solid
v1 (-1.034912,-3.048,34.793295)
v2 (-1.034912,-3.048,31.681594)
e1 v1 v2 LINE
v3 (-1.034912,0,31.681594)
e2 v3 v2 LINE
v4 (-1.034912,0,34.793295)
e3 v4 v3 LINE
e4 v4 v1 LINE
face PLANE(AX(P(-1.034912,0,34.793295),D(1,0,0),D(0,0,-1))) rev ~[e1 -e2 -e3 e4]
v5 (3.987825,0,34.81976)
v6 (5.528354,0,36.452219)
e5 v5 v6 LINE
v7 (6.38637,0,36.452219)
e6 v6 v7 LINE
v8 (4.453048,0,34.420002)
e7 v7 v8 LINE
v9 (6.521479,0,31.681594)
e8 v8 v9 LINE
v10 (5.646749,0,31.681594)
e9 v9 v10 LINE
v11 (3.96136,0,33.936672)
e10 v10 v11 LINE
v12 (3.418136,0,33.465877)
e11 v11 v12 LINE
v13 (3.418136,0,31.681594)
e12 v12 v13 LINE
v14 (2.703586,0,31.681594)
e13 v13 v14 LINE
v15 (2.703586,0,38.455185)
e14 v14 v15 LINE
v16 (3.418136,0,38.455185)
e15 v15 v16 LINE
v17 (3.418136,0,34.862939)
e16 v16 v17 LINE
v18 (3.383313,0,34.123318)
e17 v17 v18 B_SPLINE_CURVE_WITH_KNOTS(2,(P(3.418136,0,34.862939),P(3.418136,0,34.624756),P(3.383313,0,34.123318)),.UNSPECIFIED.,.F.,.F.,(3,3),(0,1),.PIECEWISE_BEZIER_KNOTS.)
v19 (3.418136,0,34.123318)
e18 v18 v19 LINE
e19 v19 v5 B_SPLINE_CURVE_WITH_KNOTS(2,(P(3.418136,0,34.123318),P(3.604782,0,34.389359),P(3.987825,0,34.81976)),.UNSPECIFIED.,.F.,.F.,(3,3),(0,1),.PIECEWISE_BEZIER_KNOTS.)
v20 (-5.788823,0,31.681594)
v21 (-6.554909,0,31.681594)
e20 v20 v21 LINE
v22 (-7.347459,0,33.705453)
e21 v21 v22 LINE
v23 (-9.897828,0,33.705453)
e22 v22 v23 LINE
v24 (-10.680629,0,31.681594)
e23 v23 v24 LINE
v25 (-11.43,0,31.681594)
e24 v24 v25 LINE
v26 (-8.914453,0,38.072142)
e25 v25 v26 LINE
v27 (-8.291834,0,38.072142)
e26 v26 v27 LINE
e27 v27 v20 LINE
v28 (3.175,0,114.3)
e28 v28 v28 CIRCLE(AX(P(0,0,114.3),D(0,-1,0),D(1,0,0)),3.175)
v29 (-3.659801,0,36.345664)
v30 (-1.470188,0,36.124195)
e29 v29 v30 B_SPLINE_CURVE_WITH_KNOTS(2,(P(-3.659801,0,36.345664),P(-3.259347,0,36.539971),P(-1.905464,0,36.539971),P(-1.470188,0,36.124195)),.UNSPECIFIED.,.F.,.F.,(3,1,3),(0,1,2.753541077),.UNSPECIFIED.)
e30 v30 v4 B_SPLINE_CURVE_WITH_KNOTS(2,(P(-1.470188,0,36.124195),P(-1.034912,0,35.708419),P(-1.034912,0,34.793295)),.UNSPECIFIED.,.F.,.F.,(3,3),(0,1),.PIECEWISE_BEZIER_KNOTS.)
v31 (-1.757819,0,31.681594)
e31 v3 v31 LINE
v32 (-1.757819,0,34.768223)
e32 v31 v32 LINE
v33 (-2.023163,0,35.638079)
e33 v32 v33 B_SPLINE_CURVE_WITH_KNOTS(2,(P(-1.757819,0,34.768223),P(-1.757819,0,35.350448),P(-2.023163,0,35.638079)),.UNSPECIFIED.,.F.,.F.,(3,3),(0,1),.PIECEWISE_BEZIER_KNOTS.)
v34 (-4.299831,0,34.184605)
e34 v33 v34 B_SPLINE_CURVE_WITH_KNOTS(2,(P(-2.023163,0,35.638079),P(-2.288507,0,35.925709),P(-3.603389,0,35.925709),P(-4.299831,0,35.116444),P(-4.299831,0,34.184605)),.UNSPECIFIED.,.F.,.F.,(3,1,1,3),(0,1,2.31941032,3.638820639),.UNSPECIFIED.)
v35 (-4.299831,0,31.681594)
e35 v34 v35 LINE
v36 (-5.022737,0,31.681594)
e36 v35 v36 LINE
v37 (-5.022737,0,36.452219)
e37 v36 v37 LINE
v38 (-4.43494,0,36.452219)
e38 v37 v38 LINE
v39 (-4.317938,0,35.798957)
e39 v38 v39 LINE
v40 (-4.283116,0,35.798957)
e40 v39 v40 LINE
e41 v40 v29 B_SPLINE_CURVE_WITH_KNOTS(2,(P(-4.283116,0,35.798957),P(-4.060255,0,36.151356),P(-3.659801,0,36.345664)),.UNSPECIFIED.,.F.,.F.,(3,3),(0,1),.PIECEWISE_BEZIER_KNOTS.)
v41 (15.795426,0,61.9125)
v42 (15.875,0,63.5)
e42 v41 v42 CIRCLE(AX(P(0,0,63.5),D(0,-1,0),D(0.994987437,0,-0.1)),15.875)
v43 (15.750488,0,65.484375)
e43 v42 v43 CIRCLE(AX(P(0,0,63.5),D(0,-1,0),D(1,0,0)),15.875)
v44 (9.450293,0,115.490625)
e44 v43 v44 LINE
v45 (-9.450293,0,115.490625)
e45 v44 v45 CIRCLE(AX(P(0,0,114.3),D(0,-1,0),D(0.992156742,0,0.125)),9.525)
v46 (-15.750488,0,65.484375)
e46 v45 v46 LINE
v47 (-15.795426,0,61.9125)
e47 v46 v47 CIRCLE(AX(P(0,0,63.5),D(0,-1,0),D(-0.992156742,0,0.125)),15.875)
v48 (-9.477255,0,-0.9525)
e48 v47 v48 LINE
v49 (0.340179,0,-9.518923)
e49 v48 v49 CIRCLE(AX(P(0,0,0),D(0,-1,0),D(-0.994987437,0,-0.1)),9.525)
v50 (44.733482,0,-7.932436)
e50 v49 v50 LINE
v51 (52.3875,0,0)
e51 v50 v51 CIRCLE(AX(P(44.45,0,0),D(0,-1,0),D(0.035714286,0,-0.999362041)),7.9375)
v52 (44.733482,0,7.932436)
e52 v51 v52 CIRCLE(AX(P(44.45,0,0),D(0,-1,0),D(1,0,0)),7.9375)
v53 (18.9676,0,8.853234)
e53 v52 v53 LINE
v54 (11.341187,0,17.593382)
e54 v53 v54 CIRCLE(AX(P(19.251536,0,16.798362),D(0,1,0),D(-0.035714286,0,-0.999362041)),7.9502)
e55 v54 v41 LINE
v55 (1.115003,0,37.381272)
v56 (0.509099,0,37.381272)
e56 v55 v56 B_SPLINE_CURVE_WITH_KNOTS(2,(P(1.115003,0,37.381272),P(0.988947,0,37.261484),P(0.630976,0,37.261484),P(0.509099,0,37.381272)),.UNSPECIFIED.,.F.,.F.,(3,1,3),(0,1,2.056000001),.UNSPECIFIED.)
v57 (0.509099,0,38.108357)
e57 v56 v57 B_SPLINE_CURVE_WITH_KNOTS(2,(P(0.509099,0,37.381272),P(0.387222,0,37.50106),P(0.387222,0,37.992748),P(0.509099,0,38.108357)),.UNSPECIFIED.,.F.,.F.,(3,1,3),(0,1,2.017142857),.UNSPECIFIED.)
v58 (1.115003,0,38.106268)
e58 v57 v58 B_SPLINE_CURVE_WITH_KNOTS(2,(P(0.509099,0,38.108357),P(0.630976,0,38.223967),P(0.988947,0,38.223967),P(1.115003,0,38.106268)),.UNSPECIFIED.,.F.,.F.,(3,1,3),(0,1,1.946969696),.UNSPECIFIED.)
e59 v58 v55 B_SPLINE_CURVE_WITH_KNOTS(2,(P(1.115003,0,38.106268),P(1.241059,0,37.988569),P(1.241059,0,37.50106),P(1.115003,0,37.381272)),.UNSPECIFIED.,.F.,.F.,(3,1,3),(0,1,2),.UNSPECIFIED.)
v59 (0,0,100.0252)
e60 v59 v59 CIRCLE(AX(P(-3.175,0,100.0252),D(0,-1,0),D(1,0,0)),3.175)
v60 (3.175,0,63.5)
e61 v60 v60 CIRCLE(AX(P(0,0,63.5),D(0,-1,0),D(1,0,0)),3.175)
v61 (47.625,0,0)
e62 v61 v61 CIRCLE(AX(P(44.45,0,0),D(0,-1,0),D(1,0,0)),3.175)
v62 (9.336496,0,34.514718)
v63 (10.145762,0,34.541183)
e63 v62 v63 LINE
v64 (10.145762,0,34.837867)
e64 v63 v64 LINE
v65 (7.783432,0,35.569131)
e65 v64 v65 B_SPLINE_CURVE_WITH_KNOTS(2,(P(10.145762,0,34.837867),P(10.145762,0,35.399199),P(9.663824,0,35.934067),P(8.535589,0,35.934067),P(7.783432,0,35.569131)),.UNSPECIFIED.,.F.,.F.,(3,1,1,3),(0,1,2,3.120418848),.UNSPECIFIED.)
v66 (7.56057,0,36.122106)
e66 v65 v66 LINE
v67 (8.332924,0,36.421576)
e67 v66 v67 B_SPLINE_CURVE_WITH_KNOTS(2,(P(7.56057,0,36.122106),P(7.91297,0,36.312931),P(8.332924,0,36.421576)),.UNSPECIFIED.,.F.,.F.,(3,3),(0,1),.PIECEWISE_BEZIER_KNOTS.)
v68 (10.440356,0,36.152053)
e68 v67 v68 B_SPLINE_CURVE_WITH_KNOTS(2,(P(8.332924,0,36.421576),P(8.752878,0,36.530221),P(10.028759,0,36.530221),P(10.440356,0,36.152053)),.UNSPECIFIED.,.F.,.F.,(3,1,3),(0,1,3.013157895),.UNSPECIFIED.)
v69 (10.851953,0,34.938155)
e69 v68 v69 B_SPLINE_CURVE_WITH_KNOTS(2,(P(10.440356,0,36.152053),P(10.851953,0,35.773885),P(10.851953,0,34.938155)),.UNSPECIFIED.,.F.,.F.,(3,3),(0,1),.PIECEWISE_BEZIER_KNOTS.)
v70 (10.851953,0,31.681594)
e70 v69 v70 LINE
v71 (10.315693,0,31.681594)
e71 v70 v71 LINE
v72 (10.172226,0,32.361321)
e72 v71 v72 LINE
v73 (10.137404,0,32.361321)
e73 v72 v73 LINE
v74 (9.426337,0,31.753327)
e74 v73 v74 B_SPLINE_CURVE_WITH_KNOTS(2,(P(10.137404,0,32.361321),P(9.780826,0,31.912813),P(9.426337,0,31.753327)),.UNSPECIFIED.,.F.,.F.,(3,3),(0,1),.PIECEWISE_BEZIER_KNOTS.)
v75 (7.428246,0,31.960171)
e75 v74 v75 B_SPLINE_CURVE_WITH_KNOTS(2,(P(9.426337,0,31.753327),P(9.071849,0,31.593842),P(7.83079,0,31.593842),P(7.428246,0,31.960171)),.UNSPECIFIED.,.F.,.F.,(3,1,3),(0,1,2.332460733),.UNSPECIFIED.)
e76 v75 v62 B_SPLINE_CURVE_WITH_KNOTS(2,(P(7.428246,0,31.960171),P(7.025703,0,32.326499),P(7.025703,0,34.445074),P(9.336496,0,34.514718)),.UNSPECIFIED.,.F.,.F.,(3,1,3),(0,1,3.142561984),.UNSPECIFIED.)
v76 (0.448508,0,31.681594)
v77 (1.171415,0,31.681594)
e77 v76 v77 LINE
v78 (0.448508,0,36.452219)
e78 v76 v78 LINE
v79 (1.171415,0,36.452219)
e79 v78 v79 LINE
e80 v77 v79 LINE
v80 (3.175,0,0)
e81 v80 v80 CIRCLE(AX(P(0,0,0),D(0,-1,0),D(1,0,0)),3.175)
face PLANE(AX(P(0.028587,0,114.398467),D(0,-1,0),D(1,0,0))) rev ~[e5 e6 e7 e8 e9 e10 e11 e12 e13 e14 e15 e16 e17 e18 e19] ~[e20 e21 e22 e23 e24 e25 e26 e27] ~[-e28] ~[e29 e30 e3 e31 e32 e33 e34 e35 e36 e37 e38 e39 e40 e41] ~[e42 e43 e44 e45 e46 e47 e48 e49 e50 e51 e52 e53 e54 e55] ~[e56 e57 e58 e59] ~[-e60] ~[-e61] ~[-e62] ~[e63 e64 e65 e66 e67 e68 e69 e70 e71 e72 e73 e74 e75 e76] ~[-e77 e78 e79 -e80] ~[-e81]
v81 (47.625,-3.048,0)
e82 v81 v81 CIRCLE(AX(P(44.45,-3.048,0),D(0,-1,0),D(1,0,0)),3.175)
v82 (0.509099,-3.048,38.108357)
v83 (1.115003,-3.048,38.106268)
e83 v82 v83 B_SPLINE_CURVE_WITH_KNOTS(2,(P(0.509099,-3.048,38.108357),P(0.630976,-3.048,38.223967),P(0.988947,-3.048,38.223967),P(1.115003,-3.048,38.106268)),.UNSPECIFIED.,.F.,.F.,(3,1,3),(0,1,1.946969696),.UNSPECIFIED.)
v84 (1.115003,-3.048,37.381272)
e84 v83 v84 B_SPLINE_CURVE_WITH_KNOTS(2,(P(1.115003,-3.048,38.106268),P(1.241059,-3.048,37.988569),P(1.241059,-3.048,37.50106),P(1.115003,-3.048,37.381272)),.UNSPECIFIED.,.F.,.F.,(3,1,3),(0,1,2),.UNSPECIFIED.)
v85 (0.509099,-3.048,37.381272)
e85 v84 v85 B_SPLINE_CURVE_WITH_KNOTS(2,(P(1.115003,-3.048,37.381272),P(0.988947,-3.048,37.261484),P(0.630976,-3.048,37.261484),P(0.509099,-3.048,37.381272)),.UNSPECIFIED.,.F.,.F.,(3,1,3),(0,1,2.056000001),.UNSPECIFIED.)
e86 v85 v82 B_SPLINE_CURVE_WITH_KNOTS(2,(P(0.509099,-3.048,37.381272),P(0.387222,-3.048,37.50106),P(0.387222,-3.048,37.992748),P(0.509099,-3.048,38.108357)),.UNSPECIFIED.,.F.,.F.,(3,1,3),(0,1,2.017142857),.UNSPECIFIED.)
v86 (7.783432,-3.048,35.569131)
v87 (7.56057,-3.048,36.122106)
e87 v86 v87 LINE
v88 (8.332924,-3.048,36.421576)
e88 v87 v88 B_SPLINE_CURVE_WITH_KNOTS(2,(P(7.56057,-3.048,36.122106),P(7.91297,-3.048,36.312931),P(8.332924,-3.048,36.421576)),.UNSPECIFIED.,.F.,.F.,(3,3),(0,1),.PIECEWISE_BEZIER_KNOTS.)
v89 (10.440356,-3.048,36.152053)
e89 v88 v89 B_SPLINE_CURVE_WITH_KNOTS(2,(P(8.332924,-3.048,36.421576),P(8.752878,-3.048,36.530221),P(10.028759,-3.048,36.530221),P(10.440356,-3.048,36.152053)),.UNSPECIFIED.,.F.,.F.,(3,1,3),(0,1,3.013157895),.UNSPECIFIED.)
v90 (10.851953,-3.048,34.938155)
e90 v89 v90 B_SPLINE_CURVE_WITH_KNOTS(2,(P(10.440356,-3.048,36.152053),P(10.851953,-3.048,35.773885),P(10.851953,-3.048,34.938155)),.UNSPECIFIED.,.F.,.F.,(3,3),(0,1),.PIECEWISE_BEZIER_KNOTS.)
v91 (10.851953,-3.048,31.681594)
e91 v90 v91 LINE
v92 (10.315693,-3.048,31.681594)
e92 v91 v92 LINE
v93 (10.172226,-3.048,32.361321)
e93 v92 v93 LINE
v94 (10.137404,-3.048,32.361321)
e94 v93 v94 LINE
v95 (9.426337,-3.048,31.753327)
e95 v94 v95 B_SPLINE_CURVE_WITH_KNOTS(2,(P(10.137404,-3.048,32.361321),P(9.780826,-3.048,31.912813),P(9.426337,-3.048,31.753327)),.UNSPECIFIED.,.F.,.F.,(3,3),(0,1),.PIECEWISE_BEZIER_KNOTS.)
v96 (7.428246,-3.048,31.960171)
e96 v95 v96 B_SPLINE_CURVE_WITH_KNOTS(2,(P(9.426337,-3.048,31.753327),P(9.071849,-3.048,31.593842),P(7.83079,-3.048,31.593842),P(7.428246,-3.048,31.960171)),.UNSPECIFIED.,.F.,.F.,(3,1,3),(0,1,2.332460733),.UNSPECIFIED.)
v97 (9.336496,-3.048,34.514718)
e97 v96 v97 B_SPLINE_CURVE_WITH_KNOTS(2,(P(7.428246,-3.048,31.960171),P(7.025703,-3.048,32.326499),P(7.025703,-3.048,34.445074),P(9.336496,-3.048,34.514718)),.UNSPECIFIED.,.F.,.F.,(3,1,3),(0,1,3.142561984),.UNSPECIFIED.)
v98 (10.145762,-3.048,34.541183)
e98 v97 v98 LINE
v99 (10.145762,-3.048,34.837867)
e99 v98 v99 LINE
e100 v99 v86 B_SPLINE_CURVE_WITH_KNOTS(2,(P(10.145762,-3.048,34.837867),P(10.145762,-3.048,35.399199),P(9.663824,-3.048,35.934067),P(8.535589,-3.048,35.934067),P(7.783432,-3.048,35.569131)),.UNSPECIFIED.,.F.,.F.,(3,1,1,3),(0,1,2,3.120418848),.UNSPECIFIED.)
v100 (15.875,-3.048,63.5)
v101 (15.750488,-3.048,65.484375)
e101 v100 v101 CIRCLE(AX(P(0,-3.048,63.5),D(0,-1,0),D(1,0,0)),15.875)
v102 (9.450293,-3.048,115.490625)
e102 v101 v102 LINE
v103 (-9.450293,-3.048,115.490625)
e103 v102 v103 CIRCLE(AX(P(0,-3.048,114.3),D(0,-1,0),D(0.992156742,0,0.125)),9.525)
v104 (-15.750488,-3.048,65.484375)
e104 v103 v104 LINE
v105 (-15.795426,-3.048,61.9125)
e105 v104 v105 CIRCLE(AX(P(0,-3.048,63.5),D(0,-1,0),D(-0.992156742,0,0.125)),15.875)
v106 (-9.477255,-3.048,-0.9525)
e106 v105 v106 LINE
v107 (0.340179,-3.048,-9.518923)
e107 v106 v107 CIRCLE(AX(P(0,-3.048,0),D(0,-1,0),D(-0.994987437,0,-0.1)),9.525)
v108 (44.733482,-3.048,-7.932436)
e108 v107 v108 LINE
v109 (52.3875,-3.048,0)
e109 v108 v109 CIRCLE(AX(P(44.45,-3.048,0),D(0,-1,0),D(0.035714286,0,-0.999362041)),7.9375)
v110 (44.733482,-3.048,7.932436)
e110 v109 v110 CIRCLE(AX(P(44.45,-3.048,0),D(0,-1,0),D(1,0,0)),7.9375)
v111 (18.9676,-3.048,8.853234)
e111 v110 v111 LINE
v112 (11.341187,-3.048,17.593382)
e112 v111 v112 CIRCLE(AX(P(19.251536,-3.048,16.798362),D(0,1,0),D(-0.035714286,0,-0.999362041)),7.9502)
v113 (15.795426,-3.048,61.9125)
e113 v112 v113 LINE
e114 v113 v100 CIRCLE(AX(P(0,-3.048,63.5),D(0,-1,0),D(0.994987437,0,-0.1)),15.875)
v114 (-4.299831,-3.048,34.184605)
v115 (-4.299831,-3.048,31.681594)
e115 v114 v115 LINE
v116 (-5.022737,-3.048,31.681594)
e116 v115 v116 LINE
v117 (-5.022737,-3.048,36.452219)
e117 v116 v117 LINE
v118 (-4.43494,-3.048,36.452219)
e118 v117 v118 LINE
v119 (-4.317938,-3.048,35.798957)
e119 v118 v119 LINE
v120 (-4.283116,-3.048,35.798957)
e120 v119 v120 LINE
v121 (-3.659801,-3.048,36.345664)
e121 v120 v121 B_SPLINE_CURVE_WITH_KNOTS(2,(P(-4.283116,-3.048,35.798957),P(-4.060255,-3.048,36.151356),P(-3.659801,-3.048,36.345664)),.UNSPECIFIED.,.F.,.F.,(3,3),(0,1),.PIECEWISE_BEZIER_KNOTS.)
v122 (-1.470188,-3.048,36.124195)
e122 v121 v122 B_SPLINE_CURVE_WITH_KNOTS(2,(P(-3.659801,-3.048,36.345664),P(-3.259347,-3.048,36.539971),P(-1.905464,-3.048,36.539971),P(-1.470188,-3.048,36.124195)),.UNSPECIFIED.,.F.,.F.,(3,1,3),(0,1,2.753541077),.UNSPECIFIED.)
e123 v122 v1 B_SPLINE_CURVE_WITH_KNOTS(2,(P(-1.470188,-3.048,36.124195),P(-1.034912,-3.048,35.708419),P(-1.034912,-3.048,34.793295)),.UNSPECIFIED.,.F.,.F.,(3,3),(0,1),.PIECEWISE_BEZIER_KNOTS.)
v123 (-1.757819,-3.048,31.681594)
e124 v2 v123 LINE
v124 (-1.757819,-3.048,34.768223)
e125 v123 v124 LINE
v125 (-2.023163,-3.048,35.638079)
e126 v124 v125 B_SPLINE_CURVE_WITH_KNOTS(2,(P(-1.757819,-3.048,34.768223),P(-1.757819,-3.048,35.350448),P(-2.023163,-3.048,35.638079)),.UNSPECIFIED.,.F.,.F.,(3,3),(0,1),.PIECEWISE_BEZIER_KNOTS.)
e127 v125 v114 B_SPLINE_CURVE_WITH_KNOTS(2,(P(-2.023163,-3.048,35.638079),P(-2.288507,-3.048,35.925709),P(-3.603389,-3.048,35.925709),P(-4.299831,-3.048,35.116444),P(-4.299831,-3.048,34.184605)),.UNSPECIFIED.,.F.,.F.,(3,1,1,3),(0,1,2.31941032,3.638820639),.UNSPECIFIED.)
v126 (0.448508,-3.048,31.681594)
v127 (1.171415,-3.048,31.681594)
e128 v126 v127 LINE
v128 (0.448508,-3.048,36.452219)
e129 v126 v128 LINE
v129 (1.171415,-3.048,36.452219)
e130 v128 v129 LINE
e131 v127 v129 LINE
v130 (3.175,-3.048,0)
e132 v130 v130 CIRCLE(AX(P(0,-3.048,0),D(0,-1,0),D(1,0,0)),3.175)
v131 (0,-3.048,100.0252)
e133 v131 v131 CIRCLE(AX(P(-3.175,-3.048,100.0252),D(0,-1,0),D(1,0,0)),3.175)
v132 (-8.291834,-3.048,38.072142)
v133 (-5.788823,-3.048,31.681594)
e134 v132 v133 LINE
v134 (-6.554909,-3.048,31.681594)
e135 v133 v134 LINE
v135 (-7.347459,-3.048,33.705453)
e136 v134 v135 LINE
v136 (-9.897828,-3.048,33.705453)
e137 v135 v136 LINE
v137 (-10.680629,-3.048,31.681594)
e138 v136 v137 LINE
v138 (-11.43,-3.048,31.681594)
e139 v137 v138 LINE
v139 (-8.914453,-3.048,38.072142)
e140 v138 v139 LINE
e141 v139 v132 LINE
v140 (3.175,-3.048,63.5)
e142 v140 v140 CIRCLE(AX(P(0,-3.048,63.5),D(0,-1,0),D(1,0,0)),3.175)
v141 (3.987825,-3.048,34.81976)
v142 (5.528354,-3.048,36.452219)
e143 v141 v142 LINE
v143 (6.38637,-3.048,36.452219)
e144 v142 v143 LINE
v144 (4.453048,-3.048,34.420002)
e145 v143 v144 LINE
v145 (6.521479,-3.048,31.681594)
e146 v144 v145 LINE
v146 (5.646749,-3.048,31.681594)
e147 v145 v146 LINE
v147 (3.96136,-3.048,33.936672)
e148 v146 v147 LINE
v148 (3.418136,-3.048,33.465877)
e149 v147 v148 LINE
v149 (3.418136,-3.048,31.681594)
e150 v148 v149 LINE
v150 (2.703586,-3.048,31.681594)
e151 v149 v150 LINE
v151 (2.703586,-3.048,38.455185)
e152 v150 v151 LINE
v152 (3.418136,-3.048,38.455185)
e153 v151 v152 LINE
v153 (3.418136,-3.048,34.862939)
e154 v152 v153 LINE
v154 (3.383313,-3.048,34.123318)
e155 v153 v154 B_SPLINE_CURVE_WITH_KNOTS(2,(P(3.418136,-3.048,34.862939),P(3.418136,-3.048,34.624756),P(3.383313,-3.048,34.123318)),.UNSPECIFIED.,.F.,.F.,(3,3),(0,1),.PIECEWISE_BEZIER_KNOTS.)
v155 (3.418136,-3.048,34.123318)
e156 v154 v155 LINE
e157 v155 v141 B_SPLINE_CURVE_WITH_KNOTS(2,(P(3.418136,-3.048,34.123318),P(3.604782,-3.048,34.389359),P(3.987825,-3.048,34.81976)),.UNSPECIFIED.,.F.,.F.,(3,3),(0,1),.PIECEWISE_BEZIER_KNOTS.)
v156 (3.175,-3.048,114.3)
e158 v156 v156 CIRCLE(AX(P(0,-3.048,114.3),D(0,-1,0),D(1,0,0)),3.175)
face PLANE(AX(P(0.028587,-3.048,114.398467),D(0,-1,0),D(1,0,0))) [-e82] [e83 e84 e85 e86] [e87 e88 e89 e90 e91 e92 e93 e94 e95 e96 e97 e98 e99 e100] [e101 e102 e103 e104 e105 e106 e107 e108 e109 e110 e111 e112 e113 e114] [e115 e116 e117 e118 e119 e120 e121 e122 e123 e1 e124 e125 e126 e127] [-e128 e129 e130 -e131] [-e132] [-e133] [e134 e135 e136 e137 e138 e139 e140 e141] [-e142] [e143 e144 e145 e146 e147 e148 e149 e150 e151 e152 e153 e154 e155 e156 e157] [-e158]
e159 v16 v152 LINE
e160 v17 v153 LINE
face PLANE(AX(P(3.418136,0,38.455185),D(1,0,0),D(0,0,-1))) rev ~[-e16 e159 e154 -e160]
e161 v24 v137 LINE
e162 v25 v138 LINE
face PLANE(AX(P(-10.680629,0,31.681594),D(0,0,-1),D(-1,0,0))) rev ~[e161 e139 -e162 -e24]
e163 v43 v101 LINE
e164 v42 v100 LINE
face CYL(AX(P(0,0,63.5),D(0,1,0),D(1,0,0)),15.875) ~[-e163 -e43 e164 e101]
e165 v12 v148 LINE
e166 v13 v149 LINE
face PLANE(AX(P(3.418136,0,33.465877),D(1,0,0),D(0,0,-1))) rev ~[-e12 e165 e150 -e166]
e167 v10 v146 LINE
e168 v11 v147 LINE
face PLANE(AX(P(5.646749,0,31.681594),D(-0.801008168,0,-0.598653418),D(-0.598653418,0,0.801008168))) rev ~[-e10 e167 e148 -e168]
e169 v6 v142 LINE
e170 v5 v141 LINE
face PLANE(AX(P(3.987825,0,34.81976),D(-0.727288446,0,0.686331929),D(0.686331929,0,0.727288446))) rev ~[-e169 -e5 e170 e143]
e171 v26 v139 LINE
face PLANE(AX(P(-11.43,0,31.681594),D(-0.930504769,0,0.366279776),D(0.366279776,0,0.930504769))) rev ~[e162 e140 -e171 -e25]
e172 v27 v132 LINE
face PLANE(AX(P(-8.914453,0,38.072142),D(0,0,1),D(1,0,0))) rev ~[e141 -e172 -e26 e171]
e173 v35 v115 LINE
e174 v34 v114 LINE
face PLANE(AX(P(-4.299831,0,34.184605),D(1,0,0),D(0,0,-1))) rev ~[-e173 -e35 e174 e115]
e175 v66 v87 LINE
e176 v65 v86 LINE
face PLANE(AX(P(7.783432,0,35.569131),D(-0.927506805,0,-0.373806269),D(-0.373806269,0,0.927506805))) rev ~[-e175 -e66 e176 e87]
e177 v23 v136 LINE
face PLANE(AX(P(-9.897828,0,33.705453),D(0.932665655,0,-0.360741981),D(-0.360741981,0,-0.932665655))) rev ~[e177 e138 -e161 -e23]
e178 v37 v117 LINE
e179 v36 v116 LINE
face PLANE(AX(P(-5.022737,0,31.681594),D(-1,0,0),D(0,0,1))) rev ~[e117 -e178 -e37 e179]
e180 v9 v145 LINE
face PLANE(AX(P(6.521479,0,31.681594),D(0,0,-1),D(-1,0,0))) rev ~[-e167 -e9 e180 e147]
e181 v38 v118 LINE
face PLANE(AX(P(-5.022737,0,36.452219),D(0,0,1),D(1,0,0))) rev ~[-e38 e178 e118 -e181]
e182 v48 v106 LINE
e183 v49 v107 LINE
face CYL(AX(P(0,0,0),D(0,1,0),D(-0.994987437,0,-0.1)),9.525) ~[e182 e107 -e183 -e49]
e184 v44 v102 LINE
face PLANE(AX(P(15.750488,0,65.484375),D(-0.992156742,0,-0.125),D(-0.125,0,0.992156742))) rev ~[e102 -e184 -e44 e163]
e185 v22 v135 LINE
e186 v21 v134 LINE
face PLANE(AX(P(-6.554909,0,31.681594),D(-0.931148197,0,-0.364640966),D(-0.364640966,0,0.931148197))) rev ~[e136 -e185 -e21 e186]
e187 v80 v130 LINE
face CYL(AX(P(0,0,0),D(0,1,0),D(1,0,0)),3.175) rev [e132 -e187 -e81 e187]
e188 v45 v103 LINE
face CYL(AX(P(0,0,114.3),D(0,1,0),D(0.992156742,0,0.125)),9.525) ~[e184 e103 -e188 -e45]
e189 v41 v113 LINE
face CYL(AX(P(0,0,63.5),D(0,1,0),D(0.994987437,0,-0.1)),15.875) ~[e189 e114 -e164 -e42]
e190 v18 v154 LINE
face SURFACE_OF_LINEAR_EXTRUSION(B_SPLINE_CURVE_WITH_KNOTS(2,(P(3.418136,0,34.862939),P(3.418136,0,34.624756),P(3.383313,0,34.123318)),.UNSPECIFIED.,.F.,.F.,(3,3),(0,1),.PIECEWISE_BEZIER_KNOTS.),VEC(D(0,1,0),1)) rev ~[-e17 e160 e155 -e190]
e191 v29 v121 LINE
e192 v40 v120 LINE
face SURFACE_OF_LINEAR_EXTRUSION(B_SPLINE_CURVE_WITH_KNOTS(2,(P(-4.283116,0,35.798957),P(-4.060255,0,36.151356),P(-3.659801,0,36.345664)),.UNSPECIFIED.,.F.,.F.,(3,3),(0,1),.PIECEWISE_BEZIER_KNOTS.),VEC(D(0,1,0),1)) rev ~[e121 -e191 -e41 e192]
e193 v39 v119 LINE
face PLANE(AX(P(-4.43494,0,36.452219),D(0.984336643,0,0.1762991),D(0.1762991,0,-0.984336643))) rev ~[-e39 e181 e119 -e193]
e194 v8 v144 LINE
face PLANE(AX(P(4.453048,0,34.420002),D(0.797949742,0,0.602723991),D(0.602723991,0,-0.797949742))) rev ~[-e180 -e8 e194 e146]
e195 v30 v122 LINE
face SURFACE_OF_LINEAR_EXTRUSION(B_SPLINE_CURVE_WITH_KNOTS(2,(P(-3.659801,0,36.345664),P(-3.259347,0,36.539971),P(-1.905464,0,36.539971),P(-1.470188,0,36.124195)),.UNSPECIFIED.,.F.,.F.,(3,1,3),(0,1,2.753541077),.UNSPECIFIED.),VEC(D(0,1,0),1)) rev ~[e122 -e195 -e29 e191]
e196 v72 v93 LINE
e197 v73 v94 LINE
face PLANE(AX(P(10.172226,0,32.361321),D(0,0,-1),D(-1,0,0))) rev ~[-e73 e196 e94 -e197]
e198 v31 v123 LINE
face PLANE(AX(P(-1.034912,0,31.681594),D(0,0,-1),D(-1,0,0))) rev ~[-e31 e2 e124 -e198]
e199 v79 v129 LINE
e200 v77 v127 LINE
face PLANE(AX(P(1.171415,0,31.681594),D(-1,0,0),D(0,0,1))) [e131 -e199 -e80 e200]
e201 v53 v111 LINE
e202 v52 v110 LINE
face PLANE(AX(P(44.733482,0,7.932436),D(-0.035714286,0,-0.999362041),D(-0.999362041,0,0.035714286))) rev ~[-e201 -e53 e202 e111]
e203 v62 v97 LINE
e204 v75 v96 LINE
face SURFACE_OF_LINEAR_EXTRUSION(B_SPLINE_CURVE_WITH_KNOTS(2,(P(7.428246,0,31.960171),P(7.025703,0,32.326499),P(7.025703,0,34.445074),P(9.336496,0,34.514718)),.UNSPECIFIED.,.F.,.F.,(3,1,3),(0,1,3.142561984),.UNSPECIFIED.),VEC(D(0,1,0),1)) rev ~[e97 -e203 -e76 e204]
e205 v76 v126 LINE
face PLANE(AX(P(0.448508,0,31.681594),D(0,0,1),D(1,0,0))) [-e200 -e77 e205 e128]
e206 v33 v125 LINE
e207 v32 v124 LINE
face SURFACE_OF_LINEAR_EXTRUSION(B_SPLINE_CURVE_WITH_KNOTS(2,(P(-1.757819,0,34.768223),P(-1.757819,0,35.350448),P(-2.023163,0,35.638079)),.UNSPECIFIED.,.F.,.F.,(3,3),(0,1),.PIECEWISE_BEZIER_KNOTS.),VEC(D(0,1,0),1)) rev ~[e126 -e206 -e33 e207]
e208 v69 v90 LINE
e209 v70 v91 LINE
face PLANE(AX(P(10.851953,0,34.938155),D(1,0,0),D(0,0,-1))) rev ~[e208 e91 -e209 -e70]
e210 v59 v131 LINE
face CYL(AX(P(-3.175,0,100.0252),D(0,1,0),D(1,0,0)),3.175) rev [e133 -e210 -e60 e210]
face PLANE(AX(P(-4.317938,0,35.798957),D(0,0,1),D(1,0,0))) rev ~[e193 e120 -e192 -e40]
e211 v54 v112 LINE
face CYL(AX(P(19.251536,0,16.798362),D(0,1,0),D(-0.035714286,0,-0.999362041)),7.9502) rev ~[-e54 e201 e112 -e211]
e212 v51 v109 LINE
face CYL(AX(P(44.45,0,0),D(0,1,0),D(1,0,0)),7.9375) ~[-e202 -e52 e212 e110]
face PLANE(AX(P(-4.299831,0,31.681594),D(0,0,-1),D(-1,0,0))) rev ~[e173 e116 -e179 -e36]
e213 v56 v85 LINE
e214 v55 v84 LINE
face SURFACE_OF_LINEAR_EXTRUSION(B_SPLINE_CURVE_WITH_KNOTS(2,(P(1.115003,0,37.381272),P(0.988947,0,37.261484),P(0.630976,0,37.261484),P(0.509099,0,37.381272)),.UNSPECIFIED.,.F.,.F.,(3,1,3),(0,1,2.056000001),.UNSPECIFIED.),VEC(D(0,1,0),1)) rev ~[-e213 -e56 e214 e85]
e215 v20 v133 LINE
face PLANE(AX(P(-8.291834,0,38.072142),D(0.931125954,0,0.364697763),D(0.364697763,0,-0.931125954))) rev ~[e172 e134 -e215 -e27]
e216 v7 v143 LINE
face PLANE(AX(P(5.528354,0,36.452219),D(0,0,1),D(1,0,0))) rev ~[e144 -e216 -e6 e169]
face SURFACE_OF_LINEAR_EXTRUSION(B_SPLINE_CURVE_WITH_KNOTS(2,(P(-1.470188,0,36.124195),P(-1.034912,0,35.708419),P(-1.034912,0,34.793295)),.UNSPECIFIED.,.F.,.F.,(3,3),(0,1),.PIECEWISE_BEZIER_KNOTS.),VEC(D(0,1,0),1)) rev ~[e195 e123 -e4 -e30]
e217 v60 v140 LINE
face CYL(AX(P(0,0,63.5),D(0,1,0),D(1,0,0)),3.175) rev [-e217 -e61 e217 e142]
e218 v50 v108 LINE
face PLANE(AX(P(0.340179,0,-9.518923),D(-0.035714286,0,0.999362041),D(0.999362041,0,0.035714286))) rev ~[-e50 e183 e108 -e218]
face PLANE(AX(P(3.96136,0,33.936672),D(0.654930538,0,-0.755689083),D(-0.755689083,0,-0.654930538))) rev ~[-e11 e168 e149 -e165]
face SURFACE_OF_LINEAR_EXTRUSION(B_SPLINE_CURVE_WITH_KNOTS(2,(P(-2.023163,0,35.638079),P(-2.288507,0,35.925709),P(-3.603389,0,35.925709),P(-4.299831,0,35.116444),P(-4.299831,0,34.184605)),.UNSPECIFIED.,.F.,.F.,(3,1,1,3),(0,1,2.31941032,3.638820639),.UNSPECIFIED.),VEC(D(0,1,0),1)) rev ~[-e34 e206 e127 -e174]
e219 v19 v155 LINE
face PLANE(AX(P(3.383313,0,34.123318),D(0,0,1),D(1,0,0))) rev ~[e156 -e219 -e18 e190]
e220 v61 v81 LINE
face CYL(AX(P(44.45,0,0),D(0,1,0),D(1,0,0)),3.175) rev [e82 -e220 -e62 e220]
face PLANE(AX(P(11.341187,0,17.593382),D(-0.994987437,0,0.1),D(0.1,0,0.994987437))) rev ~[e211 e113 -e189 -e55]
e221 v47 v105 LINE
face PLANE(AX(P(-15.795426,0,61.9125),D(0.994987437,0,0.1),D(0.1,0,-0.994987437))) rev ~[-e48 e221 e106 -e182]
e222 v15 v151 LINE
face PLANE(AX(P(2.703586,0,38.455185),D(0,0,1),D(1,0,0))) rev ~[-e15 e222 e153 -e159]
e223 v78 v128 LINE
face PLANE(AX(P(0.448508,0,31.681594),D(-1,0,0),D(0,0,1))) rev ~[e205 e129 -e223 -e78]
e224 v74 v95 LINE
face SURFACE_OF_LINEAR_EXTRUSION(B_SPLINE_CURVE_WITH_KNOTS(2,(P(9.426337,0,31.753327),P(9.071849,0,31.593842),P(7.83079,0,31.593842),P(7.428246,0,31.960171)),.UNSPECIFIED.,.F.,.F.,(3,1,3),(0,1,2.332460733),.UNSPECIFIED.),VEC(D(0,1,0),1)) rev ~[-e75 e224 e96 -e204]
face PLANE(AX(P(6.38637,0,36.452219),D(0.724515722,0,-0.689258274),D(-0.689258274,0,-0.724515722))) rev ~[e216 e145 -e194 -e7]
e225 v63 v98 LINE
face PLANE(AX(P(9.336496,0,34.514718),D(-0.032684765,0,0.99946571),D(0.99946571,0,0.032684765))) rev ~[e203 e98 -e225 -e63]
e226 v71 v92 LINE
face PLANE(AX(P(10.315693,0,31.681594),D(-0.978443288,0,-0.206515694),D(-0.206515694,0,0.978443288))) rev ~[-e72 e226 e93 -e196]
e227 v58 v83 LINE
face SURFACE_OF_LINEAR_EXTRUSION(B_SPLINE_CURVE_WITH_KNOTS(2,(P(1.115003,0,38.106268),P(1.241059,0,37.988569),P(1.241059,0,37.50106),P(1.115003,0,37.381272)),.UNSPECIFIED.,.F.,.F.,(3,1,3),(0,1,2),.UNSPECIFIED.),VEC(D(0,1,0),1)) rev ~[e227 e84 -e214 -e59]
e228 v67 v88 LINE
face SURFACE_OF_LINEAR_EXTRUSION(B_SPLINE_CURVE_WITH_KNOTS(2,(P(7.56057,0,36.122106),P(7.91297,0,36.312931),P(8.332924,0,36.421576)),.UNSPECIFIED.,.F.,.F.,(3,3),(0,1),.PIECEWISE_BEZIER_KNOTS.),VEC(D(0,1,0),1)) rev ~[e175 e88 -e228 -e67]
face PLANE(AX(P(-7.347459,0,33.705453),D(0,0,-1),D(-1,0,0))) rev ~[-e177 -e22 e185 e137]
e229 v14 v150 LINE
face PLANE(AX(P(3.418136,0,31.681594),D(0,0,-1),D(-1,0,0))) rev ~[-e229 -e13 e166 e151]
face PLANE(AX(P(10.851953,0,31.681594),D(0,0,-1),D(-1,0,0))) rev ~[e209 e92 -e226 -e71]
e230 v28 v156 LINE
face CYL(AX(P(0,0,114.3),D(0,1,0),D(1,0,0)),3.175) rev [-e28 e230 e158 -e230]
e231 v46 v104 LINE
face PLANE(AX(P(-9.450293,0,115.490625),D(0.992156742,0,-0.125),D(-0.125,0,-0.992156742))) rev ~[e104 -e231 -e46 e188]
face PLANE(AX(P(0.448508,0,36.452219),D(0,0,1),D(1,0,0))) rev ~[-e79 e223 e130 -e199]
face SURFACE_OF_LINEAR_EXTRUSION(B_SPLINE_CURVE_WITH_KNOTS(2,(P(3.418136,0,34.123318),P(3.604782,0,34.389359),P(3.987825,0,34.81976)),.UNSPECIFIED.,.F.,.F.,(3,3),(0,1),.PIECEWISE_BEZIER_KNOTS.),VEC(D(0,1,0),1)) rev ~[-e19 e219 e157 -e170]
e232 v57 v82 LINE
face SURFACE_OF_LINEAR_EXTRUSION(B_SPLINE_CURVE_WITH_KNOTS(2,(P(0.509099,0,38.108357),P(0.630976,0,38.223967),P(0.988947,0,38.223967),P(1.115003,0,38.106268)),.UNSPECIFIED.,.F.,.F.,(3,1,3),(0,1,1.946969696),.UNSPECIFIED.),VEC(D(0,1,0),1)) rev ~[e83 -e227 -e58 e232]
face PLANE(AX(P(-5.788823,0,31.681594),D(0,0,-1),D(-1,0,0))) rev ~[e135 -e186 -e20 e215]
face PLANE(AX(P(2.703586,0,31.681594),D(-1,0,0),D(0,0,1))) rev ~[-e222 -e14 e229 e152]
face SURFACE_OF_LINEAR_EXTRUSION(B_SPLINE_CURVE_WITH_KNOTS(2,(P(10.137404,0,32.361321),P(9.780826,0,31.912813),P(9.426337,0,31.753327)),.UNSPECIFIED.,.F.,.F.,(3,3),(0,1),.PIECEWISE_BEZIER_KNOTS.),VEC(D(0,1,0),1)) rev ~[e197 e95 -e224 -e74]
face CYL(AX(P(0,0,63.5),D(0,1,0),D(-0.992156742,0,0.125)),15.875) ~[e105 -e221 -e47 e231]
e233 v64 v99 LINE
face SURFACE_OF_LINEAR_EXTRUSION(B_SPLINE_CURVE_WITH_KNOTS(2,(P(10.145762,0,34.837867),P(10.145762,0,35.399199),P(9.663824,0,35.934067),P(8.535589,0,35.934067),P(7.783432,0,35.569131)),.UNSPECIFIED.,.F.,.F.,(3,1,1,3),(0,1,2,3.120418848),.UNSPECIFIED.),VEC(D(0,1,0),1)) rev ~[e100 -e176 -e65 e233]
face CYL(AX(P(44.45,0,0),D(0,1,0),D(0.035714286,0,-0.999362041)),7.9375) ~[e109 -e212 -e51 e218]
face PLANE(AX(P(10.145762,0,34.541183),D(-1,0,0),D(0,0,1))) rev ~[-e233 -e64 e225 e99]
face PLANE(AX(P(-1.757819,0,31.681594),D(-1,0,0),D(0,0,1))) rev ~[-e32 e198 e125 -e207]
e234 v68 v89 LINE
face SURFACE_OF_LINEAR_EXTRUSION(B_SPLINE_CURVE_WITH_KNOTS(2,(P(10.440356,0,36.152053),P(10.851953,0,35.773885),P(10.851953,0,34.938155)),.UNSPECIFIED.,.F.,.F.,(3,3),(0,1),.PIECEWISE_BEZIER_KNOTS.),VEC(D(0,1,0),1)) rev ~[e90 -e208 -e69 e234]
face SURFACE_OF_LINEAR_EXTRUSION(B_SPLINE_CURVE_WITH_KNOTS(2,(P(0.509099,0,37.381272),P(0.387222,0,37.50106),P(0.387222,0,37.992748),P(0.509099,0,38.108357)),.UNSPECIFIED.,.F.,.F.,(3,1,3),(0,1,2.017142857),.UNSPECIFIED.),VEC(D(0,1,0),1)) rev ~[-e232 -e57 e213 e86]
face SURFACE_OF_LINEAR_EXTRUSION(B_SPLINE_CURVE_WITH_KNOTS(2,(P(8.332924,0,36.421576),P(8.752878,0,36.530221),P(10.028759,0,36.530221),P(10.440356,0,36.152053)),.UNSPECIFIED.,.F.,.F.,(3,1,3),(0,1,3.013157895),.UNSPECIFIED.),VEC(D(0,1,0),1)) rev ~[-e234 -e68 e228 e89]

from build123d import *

# Parameters (mm, degrees)
F0_R     = 3.175
F0_W     = 0.7229064099
F0_H     = 4.7706251523
F1_DEPTH = 3.048


with BuildPart() as f1:
    # F0 (on Front) → F1 (new body)
    with BuildSketch(Plane.XZ):
        with BuildLine():
            ThreePointArc((-9.4502929642, 115.490625), (-0.596483242, 104.7936951058), (9.525, 114.3))
            ThreePointArc((9.525, 114.3), (9.5063048942, 114.896483242), (9.4502929642, 115.490625))
            ThreePointArc((9.4502929642, 115.490625), (0, 123.825), (-9.4502929642, 115.490625))
        make_face()
        with Locations((0, 114.3)):
            Circle(F0_R, mode=Mode.SUBTRACT)
        with BuildLine():
            ThreePointArc((9.4502929642, 115.490625), (9.5063048942, 114.896483242), (9.525, 114.3))
            ThreePointArc((9.525, 114.3), (-0.596483242, 104.7936951058), (-9.4502929642, 115.490625))
            Line((-9.4502929642, 115.490625), (-15.7504882737, 65.484375))
            ThreePointArc((-15.7504882737, 65.484375), (0, 79.375), (15.7504882737, 65.484375))
            Line((15.7504882737, 65.484375), (9.4502929642, 115.490625))
        make_face()
        with Locations((-3.175, 100.0252)):
            Circle(F0_R, mode=Mode.SUBTRACT)
        with BuildLine():
            ThreePointArc((15.875, 63.5), (15.8438414904, 64.4941387366), (15.7504882737, 65.484375))
            ThreePointArc((15.7504882737, 65.484375), (0, 79.375), (-15.7504882737, 65.484375))
            ThreePointArc((-15.7504882737, 65.484375), (-15.8737438155, 63.6997054867), (-15.7954255641, 61.9125))
            ThreePointArc((-15.7954255641, 61.9125), (0, 47.625), (15.7954255641, 61.9125))
            ThreePointArc((15.7954255641, 61.9125), (15.8550939106, 62.7052534459), (15.875, 63.5))
        make_face()
        with Locations((0, 63.5)):
            Circle(F0_R, mode=Mode.SUBTRACT)
        with BuildLine():
            ThreePointArc((15.7954255641, 61.9125), (0, 47.625), (-15.7954255641, 61.9125))
            Line((-15.7954255641, 61.9125), (-9.4772553384, -0.9525))
            ThreePointArc((-9.4772553384, -0.9525), (-0.4768479324, 9.5130563464), (9.525, 0))
            ThreePointArc((9.525, 0), (6.8544082857, -6.6138273378), (0.3401785714, -9.5189234444))
            Line((0.3401785714, -9.5189234444), (44.7334821429, -7.9324362036))
            ThreePointArc((44.7334821429, -7.9324362036), (36.5125, 0), (44.7334821429, 7.9324362036))
            Line((44.7334821429, 7.9324362036), (18.9676000005, 8.8532337108))
            ThreePointArc((18.9676000005, 8.8532337108), (13.2611998974, 11.5713591498), (11.3411865923, 17.5933818124))
            Line((11.3411865923, 17.5933818124), (15.7954255641, 61.9125))
        make_face()
        Polygon((-5.7888228126, 31.6815939556), (-6.5549086035, 31.6815939556), (-7.3474591762, 33.7054533268), (-9.8978284182, 33.7054533268), (-10.6806288082, 31.6815939556), (-11.43, 31.6815939556), (-8.9144528394, 38.0721423349), (-8.2918340239, 38.0721423349), align=None, mode=Mode.SUBTRACT)
        with BuildLine():
            Line((-1.0349122593, 31.6815939556), (-1.7578186693, 31.6815939556))
            Line((-1.7578186693, 31.6815939556), (-1.7578186693, 34.7682232513))
            add(Edge.make_bspline(
                [(-1.7578186693, 34.7682232513), (-1.7578186693, 35.3504484524), (-2.0231629296, 35.6380788447)],
                knots=[0, 0, 0, 1, 1, 1], degree=2))
            add(Edge.make_bspline(
                [(-2.0231629296, 35.6380788447), (-2.2885071899, 35.9257092371), (-2.8554106751, 35.9257092371)],
                knots=[0, 0, 0, 1, 1, 1], degree=2))
            add(Edge.make_bspline(
                [(-2.8554106751, 35.9257092371), (-3.6033889837, 35.9257092371), (-3.9516097977, 35.5210766512)],
                knots=[0, 0, 0, 1, 1, 1], degree=2))
            add(Edge.make_bspline(
                [(-3.9516097977, 35.5210766512), (-4.2998306117, 35.1164440653), (-4.2998306117, 34.184605167)],
                knots=[0, 0, 0, 1, 1, 1], degree=2))
            Line((-4.2998306117, 34.184605167), (-4.2998306117, 31.6815939556))
            Line((-4.2998306117, 31.6815939556), (-5.0227370217, 31.6815939556))
            Line((-5.0227370217, 31.6815939556), (-5.0227370217, 36.452219108))
            Line((-5.0227370217, 36.452219108), (-4.4349402876, 36.452219108))
            Line((-4.4349402876, 36.452219108), (-4.3179380941, 35.7989568608))
            Line((-4.3179380941, 35.7989568608), (-4.2831160127, 35.7989568608))
            add(Edge.make_bspline(
                [(-4.2831160127, 35.7989568608), (-4.0602546917, 36.1513563246), (-3.6598007555, 36.3456635389)],
                knots=[0, 0, 0, 1, 1, 1], degree=2))
            add(Edge.make_bspline(
                [(-3.6598007555, 36.3456635389), (-3.2593468194, 36.5399707531), (-2.76765903, 36.5399707531)],
                knots=[0, 0, 0, 1, 1, 1], degree=2))
            add(Edge.make_bspline(
                [(-2.76765903, 36.5399707531), (-1.9054642944, 36.5399707531), (-1.4701882769, 36.1241951011)],
                knots=[0, 0, 0, 1, 1, 1], degree=2))
            add(Edge.make_bspline(
                [(-1.4701882769, 36.1241951011), (-1.0349122593, 35.7084194492), (-1.0349122593, 34.7932951499)],
                knots=[0, 0, 0, 1, 1, 1], degree=2))
            Line((-1.0349122593, 34.7932951499), (-1.0349122593, 31.6815939556))
        make_face(mode=Mode.SUBTRACT)
        with Locations((0.8099616135, 34.0669065318)):
            Rectangle(F0_W, F0_H, mode=Mode.SUBTRACT)
        with BuildLine():
            add(Edge.make_bspline(
                [(0.5090988301, 37.3812722398), (0.3872215452, 37.5010601999), (0.3872215452, 37.7448147697)],
                knots=[0, 0, 0, 1, 1, 1], degree=2))
            add(Edge.make_bspline(
                [(0.3872215452, 37.7448147697), (0.3872215452, 37.9927479893), (0.5090988301, 38.1083572995)],
                knots=[0, 0, 0, 1, 1, 1], degree=2))
            add(Edge.make_bspline(
                [(0.5090988301, 38.1083572995), (0.630976115, 38.2239666098), (0.8148367049, 38.2239666098)],
                knots=[0, 0, 0, 1, 1, 1], degree=2))
            add(Edge.make_bspline(
                [(0.8148367049, 38.2239666098), (0.9889471119, 38.2239666098), (1.1150030466, 38.1062679747)],
                knots=[0, 0, 0, 1, 1, 1], degree=2))
            add(Edge.make_bspline(
                [(1.1150030466, 38.1062679747), (1.2410589812, 37.9885693395), (1.2410589812, 37.7448147697)],
                knots=[0, 0, 0, 1, 1, 1], degree=2))
            add(Edge.make_bspline(
                [(1.2410589812, 37.7448147697), (1.2410589812, 37.5010601999), (1.1150030466, 37.3812722398)],
                knots=[0, 0, 0, 1, 1, 1], degree=2))
            add(Edge.make_bspline(
                [(1.1150030466, 37.3812722398), (0.9889471119, 37.2614842798), (0.8148367049, 37.2614842798)],
                knots=[0, 0, 0, 1, 1, 1], degree=2))
            add(Edge.make_bspline(
                [(0.8148367049, 37.2614842798), (0.630976115, 37.2614842798), (0.5090988301, 37.3812722398)],
                knots=[0, 0, 0, 1, 1, 1], degree=2))
        make_face(mode=Mode.SUBTRACT)
        with BuildLine():
            Line((3.3833134292, 34.1233183037), (3.4181355106, 34.1233183037))
            add(Edge.make_bspline(
                [(3.4181355106, 34.1233183037), (3.6047818669, 34.3893590056), (3.9878247624, 34.8197599318)],
                knots=[0, 0, 0, 1, 1, 1], degree=2))
            Line((3.9878247624, 34.8197599318), (5.5283536437, 36.452219108))
            Line((5.5283536437, 36.452219108), (6.3863697295, 36.452219108))
            Line((6.3863697295, 36.452219108), (4.4530477699, 34.4200024372))
            Line((4.4530477699, 34.4200024372), (6.5214794053, 31.6815939556))
            Line((6.5214794053, 31.6815939556), (5.6467487204, 31.6815939556))
            Line((5.6467487204, 31.6815939556), (3.9613599805, 33.9366719474))
            Line((3.9613599805, 33.9366719474), (3.4181355106, 33.4658774068))
            Line((3.4181355106, 33.4658774068), (3.4181355106, 31.6815939556))
            Line((3.4181355106, 31.6815939556), (2.7035864002, 31.6815939556))
            Line((2.7035864002, 31.6815939556), (2.7035864002, 38.4551852303))
            Line((2.7035864002, 38.4551852303), (3.4181355106, 38.4551852303))
            Line((3.4181355106, 38.4551852303), (3.4181355106, 34.8629393127))
            add(Edge.make_bspline(
                [(3.4181355106, 34.8629393127), (3.4181355106, 34.6247562759), (3.3833134292, 34.1233183037)],
                knots=[0, 0, 0, 1, 1, 1], degree=2))
        make_face(mode=Mode.SUBTRACT)
        with BuildLine():
            Line((10.8519534487, 31.6815939556), (10.3156933951, 31.6815939556))
            Line((10.3156933951, 31.6815939556), (10.1722264197, 32.3613209846))
            Line((10.1722264197, 32.3613209846), (10.1374043383, 32.3613209846))
            add(Edge.make_bspline(
                [(10.1374043383, 32.3613209846), (9.7808262247, 31.9128125762), (9.426337436, 31.7533274433)],
                knots=[0, 0, 0, 1, 1, 1], degree=2))
            add(Edge.make_bspline(
                [(9.426337436, 31.7533274433), (9.0718486473, 31.5938423105), (8.5397672435, 31.5938423105)],
                knots=[0, 0, 0, 1, 1, 1], degree=2))
            add(Edge.make_bspline(
                [(8.5397672435, 31.5938423105), (7.8307896661, 31.5938423105), (7.4282464051, 31.9601706069)],
                knots=[0, 0, 0, 1, 1, 1], degree=2))
            add(Edge.make_bspline(
                [(7.4282464051, 31.9601706069), (7.025703144, 32.3264989032), (7.025703144, 33.0006543992)],
                knots=[0, 0, 0, 1, 1, 1], degree=2))
            add(Edge.make_bspline(
                [(7.025703144, 33.0006543992), (7.025703144, 34.4450743359), (9.336496466, 34.5147184987)],
                knots=[0, 0, 0, 1, 1, 1], degree=2))
            Line((9.336496466, 34.5147184987), (10.1457616378, 34.5411832805))
            Line((10.1457616378, 34.5411832805), (10.1457616378, 34.8378674141))
            add(Edge.make_bspline(
                [(10.1457616378, 34.8378674141), (10.1457616378, 35.3991993663), (9.9047928345, 35.6666329515)],
                knots=[0, 0, 0, 1, 1, 1], degree=2))
            add(Edge.make_bspline(
                [(9.9047928345, 35.6666329515), (9.6638240312, 35.9340665367), (9.1317426273, 35.9340665367)],
                knots=[0, 0, 0, 1, 1, 1], degree=2))
            add(Edge.make_bspline(
                [(9.1317426273, 35.9340665367), (8.5355885937, 35.9340665367), (7.7834316354, 35.5691311236)],
                knots=[0, 0, 0, 1, 1, 1], degree=2))
            Line((7.7834316354, 35.5691311236), (7.5605703144, 36.1221057763))
            add(Edge.make_bspline(
                [(7.5605703144, 36.1221057763), (7.9129697782, 36.3129307824), (8.3329240799, 36.4215756763)],
                knots=[0, 0, 0, 1, 1, 1], degree=2))
            add(Edge.make_bspline(
                [(8.3329240799, 36.4215756763), (8.7528783817, 36.5302205703), (9.1763148915, 36.5302205703)],
                knots=[0, 0, 0, 1, 1, 1], degree=2))
            add(Edge.make_bspline(
                [(9.1763148915, 36.5302205703), (10.0287594443, 36.5302205703), (10.4403564465, 36.1520527663)],
                knots=[0, 0, 0, 1, 1, 1], degree=2))
            add(Edge.make_bspline(
                [(10.4403564465, 36.1520527663), (10.8519534487, 35.7738849622), (10.8519534487, 34.9381550085)],
                knots=[0, 0, 0, 1, 1, 1], degree=2))
            Line((10.8519534487, 34.9381550085), (10.8519534487, 31.6815939556))
        make_face(mode=Mode.SUBTRACT)
        with BuildLine():
            ThreePointArc((9.525, 0), (-0.4768479324, 9.5130563464), (-9.4772553384, -0.9525))
            ThreePointArc((-9.4772553384, -0.9525), (-6.2623833816, -7.1769199091), (0.3401785714, -9.5189234444))
            ThreePointArc((0.3401785714, -9.5189234444), (6.8544082857, -6.6138273378), (9.525, 0))
        make_face()
        Circle(F0_R, mode=Mode.SUBTRACT)
        with BuildLine():
            ThreePointArc((44.7334821429, 7.9324362036), (36.5125, 0), (44.7334821429, -7.9324362036))
            ThreePointArc((44.7334821429, -7.9324362036), (50.1620069047, -5.5115227815), (52.3875, 0))
            ThreePointArc((52.3875, 0), (50.1620069047, 5.5115227815), (44.7334821429, 7.9324362036))
        make_face()
        with Locations((44.45, 0)):
            Circle(F0_R, mode=Mode.SUBTRACT)
    extrude(amount=F1_DEPTH)


solid = f1.part
